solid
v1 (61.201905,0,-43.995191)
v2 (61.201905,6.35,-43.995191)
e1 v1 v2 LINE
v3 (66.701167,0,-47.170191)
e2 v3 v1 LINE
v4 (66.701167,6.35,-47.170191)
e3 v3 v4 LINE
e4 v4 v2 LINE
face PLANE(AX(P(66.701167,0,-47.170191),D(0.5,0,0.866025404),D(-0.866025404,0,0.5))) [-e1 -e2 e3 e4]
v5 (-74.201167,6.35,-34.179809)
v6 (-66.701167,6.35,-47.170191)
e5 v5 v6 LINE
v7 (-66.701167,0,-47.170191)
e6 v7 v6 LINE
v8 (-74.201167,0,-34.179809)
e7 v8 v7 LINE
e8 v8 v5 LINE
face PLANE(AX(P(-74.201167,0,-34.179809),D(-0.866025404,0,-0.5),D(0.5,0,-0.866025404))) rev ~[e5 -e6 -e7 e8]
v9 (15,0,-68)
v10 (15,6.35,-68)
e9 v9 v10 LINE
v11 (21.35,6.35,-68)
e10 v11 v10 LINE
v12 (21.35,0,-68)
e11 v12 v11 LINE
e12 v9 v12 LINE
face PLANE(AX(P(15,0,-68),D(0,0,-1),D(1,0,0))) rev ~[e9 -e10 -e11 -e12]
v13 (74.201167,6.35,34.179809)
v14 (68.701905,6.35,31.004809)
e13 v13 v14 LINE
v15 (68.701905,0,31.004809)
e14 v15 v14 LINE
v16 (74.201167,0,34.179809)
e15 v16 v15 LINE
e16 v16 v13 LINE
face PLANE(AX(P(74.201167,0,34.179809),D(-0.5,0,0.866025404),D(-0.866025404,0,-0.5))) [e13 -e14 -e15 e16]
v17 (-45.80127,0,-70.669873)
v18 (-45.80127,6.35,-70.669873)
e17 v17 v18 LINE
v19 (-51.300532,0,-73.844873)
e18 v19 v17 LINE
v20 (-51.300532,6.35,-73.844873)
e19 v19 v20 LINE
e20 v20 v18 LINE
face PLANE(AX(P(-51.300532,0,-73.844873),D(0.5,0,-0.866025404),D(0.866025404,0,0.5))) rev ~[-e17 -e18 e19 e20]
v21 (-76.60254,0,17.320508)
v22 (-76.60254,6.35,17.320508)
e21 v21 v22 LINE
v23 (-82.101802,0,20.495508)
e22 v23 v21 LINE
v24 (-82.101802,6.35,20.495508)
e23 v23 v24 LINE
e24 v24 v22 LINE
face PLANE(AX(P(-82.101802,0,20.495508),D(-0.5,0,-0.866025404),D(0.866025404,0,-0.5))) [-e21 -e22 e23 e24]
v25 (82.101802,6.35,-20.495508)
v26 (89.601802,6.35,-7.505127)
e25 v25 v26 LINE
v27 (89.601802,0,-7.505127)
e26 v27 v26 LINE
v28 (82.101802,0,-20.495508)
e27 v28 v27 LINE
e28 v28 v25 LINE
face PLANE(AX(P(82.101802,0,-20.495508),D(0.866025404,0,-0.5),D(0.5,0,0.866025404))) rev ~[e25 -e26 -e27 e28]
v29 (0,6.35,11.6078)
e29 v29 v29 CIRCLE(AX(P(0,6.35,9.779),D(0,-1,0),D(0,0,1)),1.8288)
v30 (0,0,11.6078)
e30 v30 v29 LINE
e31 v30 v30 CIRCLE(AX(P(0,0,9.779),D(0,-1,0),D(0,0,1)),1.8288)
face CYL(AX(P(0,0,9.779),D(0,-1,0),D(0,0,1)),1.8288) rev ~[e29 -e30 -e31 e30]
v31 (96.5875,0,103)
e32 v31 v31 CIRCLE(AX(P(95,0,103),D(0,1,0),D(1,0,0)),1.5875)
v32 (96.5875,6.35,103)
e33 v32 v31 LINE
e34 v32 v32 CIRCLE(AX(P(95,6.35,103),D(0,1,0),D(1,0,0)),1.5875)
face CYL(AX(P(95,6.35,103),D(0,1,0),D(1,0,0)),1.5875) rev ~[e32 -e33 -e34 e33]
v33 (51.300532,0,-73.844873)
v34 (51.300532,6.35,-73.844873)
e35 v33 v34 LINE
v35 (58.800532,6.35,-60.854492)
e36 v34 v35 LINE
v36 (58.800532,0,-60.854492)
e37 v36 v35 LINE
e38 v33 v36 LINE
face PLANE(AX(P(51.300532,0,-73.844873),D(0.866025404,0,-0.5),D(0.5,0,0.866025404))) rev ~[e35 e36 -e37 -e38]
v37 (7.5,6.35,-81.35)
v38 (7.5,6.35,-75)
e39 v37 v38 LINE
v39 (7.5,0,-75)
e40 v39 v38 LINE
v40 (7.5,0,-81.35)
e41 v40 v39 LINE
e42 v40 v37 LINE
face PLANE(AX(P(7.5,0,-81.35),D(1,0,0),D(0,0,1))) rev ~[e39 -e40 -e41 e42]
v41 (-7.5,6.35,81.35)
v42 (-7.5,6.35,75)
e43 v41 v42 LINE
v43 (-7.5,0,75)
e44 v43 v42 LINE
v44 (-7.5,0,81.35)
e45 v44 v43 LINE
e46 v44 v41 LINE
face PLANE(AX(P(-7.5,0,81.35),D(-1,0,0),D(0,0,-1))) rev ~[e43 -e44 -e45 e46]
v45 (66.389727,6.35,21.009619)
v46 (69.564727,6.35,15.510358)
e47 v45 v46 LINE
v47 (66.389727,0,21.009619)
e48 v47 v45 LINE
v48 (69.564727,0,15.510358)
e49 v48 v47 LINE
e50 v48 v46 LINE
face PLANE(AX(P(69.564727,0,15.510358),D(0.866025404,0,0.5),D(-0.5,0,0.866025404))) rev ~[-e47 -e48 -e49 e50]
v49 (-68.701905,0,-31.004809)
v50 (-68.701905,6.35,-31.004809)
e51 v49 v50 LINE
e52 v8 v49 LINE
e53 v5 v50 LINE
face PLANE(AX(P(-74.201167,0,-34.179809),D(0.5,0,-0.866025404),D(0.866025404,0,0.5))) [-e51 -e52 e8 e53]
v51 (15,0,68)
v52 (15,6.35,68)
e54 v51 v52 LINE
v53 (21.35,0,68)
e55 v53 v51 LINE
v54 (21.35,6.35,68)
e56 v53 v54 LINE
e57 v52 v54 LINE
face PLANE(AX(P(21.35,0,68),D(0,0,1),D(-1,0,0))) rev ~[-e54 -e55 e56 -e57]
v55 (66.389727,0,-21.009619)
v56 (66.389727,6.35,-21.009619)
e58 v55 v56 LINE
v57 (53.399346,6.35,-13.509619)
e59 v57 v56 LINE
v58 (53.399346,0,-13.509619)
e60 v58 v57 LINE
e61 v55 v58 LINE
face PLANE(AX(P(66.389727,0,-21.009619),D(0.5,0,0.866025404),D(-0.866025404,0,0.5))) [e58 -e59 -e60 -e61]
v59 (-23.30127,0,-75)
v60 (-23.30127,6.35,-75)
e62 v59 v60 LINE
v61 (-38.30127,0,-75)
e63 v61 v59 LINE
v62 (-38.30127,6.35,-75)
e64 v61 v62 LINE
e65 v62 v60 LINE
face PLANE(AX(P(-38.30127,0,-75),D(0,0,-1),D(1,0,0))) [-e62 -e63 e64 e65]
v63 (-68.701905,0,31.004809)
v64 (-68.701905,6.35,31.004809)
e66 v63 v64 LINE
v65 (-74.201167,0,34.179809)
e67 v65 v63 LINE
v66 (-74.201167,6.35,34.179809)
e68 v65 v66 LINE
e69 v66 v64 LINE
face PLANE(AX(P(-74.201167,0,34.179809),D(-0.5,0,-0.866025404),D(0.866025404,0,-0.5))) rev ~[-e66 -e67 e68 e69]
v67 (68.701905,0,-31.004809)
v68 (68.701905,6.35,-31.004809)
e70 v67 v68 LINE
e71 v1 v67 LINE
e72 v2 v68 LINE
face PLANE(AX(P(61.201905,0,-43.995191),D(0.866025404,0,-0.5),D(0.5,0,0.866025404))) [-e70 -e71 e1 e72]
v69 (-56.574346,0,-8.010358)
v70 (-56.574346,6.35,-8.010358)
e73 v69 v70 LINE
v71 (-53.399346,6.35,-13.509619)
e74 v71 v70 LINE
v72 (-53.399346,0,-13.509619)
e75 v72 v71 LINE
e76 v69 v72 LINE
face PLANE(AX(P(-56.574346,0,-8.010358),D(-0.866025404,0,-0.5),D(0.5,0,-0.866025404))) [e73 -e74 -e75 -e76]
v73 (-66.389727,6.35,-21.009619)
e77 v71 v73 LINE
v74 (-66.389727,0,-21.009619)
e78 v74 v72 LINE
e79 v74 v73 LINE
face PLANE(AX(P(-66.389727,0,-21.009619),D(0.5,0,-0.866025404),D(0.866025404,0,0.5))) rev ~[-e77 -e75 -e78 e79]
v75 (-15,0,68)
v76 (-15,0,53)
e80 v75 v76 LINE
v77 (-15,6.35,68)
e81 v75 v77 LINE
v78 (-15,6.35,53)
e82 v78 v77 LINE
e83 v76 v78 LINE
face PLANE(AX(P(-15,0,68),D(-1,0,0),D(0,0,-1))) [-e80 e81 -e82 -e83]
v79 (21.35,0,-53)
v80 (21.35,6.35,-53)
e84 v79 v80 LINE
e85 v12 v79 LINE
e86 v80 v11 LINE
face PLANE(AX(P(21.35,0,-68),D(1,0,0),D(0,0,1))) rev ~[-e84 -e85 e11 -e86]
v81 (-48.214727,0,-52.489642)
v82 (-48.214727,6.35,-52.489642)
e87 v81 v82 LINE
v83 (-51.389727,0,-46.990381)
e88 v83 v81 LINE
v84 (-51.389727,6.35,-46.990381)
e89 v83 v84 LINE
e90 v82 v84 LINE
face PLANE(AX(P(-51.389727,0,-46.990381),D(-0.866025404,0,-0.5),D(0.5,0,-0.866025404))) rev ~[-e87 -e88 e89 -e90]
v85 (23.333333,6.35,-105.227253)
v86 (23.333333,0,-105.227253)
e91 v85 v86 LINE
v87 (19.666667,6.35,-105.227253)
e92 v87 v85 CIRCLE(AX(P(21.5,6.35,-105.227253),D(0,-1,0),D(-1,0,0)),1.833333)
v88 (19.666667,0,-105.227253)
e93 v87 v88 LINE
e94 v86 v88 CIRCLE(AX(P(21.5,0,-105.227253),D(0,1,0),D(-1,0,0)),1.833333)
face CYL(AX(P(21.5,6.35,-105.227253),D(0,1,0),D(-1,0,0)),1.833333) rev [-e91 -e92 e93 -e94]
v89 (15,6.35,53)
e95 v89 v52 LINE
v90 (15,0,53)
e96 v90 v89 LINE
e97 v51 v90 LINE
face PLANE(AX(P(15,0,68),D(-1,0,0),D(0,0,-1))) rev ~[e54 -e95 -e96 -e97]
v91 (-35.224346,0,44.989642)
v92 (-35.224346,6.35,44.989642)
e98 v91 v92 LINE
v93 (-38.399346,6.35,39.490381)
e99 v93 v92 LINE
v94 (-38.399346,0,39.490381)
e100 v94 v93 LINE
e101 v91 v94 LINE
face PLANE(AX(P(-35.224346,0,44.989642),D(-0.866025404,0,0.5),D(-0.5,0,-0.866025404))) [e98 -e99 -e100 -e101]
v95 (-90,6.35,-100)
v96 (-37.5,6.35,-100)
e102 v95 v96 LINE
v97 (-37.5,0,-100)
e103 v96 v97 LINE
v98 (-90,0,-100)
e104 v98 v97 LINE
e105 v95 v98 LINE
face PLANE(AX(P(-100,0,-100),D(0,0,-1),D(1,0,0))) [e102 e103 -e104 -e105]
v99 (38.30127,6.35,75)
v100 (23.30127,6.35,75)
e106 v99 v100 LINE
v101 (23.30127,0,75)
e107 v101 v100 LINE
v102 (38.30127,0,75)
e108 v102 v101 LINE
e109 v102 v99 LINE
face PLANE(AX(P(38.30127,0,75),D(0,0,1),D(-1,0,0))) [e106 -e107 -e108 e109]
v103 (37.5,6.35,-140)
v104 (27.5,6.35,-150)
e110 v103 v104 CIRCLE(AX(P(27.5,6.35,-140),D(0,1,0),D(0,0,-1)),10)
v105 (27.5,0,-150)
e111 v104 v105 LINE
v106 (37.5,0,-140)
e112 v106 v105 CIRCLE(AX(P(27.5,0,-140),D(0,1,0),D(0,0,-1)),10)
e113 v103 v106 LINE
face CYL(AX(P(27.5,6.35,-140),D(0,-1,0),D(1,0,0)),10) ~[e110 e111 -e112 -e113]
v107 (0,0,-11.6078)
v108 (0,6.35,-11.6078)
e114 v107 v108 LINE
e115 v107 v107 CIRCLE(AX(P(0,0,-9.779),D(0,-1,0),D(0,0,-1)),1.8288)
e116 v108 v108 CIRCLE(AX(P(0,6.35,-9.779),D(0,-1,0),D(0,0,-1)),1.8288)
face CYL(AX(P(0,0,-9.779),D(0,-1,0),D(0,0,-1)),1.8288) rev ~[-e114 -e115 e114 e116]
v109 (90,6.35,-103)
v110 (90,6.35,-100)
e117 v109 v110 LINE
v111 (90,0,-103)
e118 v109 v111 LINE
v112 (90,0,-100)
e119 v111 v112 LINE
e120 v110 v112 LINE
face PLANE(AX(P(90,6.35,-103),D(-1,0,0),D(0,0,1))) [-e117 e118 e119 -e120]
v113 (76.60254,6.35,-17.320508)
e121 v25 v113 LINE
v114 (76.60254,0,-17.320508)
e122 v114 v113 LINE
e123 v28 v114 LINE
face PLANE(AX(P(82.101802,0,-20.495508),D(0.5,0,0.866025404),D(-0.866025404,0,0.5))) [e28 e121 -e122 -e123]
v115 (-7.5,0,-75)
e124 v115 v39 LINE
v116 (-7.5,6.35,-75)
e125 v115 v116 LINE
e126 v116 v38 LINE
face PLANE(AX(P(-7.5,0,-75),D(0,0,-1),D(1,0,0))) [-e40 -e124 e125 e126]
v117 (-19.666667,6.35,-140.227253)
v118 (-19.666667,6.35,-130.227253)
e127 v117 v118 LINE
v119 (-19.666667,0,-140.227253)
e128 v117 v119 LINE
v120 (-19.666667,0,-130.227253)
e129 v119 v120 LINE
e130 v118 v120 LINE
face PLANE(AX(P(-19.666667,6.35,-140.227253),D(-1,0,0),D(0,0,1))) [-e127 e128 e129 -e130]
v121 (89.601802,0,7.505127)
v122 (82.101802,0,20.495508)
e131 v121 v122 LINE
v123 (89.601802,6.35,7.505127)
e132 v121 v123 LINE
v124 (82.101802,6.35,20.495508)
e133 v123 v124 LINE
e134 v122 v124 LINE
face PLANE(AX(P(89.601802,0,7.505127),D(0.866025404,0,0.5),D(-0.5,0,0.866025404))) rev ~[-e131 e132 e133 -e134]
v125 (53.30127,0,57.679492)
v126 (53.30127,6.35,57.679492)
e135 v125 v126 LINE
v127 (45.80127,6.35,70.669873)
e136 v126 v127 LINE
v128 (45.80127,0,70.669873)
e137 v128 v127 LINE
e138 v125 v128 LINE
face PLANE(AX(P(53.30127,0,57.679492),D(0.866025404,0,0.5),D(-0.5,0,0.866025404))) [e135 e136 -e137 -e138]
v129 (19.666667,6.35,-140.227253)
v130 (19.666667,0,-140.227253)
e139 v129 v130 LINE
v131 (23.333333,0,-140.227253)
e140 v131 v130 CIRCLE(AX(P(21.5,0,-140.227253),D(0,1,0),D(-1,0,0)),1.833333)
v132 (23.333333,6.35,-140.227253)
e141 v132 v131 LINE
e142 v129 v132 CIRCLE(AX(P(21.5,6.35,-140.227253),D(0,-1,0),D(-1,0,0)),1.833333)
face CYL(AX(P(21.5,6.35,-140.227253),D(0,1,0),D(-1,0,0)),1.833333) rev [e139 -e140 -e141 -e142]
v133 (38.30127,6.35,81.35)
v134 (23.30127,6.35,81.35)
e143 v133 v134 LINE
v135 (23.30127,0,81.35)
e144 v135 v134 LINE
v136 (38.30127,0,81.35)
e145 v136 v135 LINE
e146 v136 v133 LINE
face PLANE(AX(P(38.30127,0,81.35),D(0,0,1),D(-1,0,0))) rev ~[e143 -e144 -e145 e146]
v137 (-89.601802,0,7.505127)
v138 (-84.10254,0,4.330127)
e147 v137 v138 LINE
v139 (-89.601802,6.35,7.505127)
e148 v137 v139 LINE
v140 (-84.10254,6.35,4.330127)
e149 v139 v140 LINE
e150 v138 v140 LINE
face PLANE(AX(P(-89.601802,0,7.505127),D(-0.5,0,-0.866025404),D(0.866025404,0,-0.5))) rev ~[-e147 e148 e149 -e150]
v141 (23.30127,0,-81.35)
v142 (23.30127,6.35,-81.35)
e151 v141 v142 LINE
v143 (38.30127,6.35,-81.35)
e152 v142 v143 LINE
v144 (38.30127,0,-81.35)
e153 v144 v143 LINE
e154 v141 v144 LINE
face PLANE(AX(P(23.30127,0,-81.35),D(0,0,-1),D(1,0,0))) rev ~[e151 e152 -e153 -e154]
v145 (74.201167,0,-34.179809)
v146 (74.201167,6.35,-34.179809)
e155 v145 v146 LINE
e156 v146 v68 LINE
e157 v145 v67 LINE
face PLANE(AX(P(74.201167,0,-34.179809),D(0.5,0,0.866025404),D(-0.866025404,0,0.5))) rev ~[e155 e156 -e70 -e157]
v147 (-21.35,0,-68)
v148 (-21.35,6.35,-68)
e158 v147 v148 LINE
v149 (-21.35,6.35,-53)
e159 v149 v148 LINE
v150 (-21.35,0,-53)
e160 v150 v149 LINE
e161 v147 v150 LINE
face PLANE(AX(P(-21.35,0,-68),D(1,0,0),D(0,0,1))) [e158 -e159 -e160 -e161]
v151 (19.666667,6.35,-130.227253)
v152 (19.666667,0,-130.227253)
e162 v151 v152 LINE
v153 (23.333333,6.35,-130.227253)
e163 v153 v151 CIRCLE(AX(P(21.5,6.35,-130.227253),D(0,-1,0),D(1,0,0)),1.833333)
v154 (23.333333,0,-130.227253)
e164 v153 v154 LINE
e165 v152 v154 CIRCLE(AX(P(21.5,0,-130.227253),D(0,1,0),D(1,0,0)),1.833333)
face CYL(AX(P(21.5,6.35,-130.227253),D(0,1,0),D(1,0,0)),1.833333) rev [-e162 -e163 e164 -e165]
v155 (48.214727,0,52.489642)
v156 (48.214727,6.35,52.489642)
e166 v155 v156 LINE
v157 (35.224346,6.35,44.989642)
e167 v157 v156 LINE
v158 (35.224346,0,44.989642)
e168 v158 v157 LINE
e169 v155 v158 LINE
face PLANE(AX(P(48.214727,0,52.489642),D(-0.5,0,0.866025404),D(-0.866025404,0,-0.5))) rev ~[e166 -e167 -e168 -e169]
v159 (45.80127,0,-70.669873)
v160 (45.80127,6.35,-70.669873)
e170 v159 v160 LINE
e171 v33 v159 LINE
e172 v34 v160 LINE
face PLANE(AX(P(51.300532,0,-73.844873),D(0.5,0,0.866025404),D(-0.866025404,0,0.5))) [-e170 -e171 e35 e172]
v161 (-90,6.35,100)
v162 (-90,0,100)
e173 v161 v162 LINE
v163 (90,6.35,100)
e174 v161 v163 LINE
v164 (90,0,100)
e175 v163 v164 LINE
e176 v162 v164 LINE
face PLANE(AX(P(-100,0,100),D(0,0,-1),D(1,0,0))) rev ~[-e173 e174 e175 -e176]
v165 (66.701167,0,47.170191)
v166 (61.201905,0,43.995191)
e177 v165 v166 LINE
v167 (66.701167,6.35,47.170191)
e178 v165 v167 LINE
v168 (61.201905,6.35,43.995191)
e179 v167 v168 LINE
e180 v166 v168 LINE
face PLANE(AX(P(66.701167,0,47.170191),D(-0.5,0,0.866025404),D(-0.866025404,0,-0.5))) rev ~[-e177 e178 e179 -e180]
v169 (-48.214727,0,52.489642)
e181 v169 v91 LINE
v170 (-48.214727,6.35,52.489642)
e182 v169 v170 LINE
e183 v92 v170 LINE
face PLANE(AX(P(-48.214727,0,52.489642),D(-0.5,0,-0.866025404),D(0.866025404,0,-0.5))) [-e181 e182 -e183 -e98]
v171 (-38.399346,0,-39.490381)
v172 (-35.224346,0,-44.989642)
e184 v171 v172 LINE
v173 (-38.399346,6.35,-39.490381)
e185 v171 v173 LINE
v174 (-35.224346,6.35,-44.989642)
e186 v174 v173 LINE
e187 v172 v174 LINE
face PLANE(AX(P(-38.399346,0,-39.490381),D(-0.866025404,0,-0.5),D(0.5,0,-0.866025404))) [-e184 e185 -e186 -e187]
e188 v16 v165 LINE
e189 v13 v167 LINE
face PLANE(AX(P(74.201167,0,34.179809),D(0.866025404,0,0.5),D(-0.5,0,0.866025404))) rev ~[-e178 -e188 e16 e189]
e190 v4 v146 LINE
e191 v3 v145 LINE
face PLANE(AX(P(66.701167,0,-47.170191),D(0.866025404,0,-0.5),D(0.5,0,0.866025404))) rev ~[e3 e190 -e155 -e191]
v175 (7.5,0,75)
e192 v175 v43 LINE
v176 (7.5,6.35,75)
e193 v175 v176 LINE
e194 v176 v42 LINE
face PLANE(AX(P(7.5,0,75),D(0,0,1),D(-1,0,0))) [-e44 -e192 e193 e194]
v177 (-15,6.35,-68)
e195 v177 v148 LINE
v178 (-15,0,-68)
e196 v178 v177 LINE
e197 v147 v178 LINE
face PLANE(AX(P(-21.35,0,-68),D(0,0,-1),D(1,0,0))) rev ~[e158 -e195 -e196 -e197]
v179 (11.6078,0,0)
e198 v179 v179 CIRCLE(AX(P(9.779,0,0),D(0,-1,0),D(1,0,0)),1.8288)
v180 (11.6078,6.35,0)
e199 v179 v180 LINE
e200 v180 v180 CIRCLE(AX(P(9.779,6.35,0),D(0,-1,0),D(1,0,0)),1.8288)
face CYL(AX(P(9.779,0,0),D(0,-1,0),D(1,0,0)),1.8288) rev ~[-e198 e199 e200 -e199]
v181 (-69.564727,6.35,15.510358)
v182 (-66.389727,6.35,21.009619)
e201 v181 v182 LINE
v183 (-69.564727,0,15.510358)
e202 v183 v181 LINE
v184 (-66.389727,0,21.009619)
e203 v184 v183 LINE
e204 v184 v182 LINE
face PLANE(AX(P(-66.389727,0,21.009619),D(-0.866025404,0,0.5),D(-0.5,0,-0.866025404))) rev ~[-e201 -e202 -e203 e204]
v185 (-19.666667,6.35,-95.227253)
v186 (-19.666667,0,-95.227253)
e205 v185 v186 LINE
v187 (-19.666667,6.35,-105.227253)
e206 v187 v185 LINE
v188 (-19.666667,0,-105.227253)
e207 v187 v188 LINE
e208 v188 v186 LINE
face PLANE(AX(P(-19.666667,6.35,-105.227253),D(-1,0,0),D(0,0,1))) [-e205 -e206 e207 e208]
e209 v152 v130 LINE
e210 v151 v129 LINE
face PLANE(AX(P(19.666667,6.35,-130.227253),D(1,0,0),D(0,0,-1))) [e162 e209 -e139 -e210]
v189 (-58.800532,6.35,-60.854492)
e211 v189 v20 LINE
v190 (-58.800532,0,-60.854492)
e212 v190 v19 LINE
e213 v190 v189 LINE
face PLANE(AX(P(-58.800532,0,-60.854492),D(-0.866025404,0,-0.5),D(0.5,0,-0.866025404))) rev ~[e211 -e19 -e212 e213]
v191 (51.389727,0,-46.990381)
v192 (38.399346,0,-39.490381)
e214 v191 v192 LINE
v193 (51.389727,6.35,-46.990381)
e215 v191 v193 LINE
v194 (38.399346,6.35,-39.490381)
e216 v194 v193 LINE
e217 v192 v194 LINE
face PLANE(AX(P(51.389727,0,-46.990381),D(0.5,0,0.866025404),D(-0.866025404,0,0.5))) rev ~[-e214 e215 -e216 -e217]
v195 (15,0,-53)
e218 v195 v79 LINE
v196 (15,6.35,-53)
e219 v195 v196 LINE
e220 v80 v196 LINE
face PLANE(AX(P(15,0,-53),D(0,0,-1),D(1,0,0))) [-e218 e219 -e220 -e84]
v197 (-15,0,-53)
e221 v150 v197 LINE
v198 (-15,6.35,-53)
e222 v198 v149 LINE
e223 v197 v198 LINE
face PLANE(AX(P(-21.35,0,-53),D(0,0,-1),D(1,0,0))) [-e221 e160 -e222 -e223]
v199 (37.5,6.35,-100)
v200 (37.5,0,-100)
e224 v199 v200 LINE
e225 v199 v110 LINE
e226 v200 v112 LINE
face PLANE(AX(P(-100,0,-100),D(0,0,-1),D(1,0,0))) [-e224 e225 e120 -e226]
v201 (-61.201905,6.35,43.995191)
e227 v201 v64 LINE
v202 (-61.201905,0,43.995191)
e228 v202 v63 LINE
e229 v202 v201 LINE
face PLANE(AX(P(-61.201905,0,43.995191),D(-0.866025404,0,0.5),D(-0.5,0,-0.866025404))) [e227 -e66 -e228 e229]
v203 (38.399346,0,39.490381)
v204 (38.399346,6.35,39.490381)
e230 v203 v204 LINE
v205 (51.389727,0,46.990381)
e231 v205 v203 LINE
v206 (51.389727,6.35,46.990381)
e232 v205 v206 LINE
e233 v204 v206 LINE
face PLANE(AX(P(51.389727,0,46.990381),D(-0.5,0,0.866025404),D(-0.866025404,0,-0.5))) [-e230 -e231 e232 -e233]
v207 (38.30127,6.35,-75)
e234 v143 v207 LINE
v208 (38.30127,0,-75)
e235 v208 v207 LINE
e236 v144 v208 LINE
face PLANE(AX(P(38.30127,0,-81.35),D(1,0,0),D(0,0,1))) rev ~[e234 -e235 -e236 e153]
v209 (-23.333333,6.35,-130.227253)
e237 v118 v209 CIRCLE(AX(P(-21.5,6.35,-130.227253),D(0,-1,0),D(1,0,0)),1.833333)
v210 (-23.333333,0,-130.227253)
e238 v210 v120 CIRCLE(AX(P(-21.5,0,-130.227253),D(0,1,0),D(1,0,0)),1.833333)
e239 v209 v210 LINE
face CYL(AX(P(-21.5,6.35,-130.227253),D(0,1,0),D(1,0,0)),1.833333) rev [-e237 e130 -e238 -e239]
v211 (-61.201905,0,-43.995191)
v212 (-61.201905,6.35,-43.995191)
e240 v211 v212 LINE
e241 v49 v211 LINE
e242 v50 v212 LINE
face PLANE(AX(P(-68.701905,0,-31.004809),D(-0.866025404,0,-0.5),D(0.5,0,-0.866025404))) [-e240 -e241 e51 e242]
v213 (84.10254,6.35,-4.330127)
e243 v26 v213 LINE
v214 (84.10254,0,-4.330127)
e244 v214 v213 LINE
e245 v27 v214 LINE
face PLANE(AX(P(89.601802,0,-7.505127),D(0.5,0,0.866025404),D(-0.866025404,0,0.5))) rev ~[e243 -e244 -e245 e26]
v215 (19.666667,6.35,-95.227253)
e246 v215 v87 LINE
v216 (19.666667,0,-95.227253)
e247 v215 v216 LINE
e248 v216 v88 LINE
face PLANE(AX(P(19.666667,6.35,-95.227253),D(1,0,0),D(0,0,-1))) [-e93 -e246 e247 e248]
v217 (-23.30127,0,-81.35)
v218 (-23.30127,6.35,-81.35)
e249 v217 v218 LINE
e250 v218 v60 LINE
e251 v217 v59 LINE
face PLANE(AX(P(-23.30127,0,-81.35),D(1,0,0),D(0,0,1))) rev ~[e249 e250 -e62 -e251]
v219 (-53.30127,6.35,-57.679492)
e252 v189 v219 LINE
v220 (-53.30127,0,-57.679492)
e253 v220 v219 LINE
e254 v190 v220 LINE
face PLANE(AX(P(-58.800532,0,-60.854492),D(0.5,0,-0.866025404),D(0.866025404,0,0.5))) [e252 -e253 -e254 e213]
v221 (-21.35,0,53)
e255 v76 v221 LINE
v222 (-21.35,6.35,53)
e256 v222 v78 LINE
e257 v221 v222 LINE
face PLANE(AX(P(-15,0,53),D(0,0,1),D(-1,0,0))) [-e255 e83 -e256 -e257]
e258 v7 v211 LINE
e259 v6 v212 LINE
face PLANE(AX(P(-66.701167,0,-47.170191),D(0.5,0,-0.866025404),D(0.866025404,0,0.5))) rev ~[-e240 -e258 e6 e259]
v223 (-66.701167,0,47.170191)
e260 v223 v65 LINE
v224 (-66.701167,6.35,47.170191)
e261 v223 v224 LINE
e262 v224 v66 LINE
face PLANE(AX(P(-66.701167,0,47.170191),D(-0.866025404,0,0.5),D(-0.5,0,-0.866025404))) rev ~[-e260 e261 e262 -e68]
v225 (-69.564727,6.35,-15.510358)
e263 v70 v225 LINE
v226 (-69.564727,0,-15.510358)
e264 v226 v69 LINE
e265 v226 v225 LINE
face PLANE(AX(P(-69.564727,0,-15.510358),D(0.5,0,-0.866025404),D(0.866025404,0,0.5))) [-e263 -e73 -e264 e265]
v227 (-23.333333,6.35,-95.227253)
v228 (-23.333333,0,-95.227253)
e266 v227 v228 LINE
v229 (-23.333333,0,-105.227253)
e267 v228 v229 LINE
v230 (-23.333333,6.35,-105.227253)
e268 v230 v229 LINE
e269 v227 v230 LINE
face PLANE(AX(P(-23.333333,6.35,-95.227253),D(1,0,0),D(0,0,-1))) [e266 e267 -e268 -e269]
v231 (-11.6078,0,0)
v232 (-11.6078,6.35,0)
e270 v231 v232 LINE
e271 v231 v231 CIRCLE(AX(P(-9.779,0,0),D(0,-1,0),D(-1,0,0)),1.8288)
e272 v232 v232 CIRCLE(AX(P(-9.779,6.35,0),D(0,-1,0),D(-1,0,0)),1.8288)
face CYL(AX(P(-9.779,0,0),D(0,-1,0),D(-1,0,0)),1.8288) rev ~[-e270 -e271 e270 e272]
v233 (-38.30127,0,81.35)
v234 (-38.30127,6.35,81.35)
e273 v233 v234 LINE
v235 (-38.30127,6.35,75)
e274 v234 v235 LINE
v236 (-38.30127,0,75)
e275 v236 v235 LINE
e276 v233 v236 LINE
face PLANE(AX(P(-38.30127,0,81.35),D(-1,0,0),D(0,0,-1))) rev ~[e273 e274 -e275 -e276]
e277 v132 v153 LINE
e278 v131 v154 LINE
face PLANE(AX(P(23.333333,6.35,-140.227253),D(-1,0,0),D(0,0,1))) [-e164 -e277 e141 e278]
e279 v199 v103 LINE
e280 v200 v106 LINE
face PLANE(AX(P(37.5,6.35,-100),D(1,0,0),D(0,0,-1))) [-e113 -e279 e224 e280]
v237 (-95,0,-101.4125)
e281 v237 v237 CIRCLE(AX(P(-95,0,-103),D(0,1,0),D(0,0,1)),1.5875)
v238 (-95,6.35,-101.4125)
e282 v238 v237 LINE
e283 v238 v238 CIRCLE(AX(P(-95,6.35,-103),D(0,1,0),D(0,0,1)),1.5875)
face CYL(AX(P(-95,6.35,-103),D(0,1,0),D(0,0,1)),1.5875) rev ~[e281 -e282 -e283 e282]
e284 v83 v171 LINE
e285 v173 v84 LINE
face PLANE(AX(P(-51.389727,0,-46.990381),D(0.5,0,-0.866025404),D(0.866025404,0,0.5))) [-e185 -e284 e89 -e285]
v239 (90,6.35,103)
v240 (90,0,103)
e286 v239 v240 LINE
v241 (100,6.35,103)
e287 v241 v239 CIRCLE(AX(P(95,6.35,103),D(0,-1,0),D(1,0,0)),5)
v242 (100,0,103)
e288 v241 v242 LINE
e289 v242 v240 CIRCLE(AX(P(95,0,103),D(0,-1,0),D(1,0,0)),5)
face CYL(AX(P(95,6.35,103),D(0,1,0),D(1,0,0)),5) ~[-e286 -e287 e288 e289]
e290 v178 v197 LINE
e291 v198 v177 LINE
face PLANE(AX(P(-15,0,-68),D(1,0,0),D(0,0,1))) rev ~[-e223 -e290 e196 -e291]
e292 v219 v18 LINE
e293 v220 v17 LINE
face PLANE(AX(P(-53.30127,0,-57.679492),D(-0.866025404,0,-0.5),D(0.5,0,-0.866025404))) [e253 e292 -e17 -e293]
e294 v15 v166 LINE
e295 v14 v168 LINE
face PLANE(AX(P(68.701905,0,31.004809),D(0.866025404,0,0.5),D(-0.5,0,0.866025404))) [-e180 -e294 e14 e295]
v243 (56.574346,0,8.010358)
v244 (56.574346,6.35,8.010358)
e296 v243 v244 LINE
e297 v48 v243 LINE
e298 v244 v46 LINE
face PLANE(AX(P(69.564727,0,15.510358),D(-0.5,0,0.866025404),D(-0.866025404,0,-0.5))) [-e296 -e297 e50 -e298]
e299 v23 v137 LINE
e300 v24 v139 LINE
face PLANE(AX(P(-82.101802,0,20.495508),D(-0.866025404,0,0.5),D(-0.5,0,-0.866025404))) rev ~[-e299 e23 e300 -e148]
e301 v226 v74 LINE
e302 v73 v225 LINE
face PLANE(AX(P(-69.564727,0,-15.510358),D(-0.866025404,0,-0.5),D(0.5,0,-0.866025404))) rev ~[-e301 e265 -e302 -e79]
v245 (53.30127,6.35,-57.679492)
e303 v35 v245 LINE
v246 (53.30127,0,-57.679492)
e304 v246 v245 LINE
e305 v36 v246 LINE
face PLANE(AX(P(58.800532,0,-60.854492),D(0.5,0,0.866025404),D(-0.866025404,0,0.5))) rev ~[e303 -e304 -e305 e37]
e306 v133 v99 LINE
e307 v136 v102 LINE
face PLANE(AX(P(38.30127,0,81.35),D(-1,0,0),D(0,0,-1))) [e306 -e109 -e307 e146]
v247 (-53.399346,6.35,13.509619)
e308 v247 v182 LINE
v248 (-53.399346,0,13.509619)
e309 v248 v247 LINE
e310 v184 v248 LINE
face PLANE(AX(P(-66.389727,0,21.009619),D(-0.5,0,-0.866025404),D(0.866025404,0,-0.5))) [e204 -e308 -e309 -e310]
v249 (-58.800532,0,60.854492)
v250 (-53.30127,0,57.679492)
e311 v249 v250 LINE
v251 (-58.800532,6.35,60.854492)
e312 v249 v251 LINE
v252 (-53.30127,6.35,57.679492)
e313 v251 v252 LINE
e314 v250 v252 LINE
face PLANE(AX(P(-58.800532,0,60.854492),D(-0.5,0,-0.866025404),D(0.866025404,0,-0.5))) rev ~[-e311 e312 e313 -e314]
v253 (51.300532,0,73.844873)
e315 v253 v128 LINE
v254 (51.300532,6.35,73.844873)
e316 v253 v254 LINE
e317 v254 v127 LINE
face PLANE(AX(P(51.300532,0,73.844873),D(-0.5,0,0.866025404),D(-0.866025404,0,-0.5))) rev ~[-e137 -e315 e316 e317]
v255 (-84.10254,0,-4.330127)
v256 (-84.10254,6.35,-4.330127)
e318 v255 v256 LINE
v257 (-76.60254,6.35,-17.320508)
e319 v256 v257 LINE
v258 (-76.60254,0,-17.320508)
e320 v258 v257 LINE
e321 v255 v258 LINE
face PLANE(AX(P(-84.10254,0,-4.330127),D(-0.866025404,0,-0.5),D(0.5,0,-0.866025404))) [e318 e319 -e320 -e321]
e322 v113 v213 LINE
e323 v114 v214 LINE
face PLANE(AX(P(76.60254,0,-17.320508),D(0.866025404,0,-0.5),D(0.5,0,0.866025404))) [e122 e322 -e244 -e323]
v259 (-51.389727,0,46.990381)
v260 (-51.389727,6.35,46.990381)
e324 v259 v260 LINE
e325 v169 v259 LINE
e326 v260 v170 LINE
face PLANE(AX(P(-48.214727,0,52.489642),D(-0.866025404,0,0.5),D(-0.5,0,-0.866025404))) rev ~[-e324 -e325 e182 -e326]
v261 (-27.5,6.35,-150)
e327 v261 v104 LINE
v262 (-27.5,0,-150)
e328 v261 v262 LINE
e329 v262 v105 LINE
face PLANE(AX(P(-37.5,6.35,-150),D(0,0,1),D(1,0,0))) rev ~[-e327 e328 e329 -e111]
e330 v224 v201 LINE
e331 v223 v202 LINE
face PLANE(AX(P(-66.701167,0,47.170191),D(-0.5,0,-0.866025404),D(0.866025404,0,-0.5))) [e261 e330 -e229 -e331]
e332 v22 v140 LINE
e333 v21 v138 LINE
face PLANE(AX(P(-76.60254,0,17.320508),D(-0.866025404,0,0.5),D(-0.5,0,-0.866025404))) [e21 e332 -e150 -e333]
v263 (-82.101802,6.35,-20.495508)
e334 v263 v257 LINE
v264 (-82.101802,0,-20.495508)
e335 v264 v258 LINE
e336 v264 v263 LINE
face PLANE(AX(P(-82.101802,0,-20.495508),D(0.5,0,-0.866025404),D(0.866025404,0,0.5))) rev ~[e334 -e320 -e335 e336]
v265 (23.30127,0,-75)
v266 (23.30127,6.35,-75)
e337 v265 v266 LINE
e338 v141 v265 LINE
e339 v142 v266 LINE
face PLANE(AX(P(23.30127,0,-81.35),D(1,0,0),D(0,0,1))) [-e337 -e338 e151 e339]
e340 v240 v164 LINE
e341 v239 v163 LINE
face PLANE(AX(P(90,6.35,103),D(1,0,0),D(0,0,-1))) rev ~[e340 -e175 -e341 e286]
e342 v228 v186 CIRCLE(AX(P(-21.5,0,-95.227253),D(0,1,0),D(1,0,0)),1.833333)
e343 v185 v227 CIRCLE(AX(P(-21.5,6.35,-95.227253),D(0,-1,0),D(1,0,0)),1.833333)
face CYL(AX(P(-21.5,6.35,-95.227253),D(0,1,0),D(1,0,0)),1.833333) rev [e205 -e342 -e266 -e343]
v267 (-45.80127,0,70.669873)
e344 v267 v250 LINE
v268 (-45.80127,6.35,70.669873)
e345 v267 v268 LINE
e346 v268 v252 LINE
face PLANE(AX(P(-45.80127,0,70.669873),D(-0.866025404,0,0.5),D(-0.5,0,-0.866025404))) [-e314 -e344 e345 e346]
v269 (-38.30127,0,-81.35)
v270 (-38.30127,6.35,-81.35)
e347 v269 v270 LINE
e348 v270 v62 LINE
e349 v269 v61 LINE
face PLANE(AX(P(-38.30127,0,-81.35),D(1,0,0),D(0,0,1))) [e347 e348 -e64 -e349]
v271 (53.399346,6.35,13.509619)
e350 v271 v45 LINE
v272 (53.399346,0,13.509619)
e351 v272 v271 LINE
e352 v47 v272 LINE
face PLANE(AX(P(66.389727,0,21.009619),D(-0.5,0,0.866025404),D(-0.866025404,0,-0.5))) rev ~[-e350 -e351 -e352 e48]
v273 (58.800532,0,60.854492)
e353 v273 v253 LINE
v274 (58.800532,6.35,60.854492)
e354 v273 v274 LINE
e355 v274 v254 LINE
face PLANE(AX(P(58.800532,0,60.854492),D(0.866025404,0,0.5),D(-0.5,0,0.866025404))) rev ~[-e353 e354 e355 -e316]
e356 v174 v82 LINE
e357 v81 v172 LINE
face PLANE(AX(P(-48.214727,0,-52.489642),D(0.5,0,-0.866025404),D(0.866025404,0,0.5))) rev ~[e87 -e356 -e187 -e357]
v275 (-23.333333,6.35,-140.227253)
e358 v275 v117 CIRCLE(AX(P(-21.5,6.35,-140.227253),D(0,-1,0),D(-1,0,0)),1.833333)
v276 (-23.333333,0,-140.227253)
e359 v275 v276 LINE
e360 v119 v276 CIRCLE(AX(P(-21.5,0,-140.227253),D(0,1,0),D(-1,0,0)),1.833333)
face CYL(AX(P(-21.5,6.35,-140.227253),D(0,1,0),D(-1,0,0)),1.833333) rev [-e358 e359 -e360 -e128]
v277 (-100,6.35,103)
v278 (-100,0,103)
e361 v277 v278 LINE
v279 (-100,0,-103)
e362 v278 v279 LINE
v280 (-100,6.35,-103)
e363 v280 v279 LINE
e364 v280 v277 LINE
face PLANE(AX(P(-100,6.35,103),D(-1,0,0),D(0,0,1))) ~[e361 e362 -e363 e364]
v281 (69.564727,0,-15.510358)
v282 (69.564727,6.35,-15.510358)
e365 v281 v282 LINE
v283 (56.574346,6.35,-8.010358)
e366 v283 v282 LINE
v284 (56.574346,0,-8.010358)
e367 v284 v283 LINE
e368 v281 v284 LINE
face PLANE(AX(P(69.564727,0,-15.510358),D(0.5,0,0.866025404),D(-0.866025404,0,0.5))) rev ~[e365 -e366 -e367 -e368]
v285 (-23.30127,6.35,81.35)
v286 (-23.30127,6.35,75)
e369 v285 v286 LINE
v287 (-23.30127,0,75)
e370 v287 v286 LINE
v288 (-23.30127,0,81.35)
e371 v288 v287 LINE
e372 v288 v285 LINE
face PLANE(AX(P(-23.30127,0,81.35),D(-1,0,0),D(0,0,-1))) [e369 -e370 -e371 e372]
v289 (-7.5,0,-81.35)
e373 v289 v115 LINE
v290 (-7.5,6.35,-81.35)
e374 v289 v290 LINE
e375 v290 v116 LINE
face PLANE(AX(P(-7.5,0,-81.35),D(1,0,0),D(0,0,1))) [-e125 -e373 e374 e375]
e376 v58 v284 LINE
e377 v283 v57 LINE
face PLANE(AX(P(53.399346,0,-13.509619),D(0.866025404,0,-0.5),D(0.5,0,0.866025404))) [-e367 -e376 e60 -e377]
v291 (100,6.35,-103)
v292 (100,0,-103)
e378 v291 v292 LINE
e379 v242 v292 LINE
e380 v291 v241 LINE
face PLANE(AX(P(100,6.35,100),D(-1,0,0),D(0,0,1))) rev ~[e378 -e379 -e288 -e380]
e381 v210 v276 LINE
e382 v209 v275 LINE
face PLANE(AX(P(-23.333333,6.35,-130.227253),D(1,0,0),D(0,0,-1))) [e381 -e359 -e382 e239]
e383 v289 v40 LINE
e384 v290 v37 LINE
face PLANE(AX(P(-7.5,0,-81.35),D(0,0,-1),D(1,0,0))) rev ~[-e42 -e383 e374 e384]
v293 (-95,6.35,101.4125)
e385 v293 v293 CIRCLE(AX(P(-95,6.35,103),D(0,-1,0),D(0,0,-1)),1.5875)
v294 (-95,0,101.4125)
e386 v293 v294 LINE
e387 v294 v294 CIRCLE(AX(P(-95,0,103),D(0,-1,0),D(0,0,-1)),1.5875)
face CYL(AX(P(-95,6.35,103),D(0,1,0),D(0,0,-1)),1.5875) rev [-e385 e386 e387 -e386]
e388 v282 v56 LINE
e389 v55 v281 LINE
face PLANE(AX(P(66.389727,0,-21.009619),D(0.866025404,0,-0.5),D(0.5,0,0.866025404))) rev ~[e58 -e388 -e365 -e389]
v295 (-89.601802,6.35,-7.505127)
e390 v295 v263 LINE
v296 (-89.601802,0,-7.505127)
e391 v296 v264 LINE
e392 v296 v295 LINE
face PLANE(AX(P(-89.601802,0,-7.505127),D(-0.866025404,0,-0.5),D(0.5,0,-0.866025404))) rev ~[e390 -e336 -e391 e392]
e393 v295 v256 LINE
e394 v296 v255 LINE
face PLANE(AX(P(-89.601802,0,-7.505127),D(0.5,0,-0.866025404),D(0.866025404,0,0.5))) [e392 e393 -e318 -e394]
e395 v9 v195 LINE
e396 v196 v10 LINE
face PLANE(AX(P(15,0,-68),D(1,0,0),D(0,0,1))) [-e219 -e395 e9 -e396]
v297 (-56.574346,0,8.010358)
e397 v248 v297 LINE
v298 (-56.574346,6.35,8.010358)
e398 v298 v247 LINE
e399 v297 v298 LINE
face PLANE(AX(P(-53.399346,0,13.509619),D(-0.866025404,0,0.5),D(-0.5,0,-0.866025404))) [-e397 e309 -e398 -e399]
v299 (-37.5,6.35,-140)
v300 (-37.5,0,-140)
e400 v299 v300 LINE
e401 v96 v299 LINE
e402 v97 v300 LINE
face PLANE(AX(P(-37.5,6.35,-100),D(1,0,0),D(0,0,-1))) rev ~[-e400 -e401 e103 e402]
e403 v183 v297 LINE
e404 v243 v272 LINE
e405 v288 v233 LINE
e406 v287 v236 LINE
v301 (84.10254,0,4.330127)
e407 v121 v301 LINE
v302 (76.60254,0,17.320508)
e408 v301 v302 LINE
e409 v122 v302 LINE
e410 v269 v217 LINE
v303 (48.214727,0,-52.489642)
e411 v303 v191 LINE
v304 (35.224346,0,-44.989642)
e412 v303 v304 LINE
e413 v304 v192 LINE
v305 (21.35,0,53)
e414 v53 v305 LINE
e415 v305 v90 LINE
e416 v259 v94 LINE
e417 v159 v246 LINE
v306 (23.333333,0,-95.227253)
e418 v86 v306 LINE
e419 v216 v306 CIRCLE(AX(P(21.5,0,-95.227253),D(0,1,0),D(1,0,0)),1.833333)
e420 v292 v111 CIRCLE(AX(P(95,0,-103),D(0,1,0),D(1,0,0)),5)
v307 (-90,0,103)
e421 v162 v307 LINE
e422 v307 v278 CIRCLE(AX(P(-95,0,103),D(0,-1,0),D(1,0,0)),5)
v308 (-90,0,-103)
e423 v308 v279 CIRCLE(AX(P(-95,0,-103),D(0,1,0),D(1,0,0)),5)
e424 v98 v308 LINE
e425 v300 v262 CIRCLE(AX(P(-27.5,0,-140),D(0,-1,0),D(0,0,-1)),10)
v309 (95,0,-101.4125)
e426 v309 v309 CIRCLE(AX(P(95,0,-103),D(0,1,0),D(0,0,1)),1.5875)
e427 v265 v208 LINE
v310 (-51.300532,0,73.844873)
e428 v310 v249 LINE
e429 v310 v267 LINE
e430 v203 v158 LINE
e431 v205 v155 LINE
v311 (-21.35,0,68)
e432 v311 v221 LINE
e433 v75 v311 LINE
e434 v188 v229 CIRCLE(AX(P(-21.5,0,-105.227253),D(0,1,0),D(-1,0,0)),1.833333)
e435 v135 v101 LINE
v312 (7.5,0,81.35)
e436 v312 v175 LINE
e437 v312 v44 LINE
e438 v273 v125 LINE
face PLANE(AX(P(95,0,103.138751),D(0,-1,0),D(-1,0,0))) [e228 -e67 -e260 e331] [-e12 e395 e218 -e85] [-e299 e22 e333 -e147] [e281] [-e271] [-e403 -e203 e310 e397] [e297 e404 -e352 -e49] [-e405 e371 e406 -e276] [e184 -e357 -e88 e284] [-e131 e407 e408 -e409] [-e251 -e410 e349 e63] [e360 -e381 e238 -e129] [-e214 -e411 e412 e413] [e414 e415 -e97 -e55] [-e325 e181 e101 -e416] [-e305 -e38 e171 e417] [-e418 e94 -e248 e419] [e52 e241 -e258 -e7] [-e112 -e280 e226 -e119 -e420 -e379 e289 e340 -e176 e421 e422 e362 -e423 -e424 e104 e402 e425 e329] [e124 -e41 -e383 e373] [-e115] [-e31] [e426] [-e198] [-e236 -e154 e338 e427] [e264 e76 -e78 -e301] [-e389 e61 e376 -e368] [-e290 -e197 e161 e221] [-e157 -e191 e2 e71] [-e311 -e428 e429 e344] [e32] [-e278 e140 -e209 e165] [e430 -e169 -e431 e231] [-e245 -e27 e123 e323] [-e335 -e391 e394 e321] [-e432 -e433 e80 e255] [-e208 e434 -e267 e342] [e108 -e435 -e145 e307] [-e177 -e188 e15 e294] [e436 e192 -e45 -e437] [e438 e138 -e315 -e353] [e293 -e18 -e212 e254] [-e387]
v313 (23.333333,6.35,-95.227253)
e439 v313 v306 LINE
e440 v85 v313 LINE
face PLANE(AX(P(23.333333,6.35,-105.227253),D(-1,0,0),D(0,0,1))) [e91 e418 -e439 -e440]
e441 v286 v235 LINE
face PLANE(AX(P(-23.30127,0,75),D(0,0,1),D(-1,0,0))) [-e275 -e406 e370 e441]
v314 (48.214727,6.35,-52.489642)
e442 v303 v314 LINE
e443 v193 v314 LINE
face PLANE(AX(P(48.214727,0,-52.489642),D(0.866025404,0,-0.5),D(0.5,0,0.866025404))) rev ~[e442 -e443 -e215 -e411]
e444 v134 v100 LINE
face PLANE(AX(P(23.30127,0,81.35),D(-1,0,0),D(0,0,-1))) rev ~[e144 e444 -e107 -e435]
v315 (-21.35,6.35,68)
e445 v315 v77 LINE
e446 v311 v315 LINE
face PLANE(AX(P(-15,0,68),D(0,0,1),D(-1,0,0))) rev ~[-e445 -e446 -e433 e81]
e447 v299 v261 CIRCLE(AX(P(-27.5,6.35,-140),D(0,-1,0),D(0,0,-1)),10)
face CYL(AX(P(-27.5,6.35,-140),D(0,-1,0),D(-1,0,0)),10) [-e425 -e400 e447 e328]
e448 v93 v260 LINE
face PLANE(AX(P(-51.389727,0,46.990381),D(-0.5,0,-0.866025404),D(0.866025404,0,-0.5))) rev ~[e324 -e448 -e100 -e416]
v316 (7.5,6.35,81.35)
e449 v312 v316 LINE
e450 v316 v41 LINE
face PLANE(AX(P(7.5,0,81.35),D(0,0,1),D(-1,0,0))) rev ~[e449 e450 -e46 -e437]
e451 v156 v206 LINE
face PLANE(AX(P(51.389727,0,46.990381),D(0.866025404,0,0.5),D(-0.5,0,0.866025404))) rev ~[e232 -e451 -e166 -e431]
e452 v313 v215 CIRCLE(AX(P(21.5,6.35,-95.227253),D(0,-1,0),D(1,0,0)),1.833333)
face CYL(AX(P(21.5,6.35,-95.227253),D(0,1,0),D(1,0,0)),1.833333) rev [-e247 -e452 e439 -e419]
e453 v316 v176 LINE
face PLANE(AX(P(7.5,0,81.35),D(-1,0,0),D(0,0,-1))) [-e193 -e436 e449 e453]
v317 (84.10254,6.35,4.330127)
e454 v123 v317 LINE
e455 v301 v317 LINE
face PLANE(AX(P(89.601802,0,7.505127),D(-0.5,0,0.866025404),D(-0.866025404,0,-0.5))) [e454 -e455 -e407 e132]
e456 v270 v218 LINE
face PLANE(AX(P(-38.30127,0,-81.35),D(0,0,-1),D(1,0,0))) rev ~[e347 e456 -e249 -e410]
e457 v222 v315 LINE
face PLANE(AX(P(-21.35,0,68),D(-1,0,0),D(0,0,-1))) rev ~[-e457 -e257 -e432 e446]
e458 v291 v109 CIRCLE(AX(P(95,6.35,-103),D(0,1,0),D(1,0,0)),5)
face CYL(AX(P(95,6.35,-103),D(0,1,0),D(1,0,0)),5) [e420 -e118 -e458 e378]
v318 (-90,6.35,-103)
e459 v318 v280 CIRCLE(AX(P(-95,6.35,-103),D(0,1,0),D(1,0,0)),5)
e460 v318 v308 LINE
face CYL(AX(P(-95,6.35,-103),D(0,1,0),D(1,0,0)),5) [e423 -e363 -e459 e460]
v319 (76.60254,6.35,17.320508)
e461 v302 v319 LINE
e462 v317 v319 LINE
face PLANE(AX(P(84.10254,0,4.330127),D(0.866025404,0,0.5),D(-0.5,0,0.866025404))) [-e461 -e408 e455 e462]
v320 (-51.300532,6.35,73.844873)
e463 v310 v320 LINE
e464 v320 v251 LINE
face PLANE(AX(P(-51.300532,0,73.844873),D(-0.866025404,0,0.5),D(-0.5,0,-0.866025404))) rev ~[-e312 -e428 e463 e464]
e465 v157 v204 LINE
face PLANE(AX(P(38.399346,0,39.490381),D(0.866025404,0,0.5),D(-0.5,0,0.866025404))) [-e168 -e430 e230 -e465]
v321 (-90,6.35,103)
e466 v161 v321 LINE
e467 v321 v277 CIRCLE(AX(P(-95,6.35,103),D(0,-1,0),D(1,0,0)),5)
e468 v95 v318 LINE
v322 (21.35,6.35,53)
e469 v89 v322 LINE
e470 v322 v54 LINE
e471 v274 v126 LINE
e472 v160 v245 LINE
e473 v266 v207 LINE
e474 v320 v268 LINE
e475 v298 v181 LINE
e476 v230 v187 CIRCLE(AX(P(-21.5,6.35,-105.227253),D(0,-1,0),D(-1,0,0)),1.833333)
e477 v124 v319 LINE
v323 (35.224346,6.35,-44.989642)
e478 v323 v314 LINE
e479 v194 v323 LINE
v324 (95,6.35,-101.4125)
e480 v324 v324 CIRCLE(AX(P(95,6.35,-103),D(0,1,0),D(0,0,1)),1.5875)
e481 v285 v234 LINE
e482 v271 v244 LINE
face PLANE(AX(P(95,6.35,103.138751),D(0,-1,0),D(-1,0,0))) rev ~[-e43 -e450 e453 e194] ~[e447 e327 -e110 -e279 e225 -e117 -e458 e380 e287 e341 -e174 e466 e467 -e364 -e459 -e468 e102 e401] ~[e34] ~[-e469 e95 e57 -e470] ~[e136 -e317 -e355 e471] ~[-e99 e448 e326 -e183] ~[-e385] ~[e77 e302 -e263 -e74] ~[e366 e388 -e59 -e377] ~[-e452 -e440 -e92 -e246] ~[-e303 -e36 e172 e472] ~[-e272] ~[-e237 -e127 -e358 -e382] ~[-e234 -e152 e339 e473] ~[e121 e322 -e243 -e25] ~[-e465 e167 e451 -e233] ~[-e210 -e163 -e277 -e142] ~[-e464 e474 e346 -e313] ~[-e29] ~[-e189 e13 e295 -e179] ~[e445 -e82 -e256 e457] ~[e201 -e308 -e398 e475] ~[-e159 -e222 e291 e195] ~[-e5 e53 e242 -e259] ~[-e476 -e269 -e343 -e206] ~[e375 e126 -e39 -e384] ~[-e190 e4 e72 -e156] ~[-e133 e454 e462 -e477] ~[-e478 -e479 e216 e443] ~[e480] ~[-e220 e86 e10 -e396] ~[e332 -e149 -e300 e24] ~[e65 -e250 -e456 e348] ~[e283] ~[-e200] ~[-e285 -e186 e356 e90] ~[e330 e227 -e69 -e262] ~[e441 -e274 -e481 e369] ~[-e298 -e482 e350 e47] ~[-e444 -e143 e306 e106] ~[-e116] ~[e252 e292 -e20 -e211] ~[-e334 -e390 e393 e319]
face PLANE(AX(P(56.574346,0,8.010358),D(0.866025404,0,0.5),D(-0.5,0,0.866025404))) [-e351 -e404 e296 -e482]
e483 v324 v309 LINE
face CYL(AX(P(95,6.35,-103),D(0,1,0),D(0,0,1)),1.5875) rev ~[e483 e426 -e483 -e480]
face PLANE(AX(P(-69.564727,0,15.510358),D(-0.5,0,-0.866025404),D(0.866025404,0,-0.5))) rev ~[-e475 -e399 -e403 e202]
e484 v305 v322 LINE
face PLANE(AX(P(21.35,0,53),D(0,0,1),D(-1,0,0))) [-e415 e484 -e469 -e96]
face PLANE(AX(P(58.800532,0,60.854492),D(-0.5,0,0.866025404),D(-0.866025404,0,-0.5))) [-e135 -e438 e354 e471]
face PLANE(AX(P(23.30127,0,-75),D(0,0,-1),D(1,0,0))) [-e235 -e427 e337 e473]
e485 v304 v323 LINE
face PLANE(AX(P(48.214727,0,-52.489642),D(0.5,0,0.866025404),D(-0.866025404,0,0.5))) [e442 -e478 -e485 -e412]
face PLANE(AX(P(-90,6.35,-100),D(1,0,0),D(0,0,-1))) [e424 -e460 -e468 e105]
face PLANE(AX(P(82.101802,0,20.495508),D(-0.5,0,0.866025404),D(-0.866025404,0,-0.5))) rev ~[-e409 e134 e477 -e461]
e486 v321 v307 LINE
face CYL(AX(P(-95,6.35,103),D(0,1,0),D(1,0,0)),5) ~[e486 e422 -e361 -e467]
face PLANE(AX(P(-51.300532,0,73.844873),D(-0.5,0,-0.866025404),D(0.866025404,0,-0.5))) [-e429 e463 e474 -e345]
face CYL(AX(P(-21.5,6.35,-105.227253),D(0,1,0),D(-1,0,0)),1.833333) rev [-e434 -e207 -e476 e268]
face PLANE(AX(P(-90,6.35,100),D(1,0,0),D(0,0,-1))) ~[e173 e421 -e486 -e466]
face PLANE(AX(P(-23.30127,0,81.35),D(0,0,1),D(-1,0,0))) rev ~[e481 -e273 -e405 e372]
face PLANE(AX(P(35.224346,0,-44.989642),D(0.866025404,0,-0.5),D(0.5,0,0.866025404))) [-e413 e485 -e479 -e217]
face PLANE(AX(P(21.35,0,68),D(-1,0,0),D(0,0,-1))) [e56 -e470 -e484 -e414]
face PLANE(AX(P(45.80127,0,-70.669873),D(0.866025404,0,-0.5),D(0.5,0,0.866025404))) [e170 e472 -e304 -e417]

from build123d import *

# Parameters (mm, degrees)
ESQUISSE1_W                     = 200
ESQUISSE1_H                     = 200
BOSS_EXTRU_1_DEPTH              = 6.35
BOSS_EXTRU_2_DEPTH              = 6.35
ENL_V_MAT_EXTRU_1_REACH         = 149.324
ESQUISSE3_R                     = 1.5875
R_P_TITION_LIN_AIRE1_COUNT      = 2
R_P_TITION_LIN_AIRE1_PITCH      = 190
SYM_TRIE1_COPY_1_DEPTH          = 6.35
SYM_TRIE1_COPY_2_REACH          = 149.324
SYM_TRIE1_COPY_2_SKETCH_R       = 1.5875
ESQUISSE4_W                     = 75
ESQUISSE4_H                     = 50
BOSS_EXTRU_3_DEPTH              = 6.35
CONG_1_R                        = 10
SKETCH1_R                       = 1.8288
CUT_EXTRUDE1_DEPTH              = 6.35
CIRPATTERN1_COUNT               = 4
ESQUISSE7_W                     = 15
ESQUISSE7_H                     = 6.35
ENL_V_MAT_EXTRU_2_DEPTH         = 6.35
R_P_TITION_CIRCULAIRE1_COUNT    = 6
ENL_V_MAT_EXTRU_3_REACH         = 182.389
R_P_TITION_LIN_AIRE2_COUNT      = 2
R_P_TITION_LIN_AIRE2_PITCH      = 35
R_P_TITION_LIN_AIRE2_COUNT_DIR2 = 2
R_P_TITION_LIN_AIRE2_PITCH_DIR2 = 43
ENL_V_MAT_EXTRU_4_REACH         = 182.389
ESQUISSE9_W                     = 6.35
ESQUISSE9_H                     = 15
R_P_TITION_CIRCULAIRE2_COUNT    = 6


with BuildPart() as part:
    # Esquisse1 → Boss.-Extru.1 (new body)
    with BuildSketch(Plane(origin=(0, 0, 0), x_dir=(1, 0, 0), z_dir=(0, 1, 0))):
        Rectangle(ESQUISSE1_W, ESQUISSE1_H)
    extrude(amount=BOSS_EXTRU_1_DEPTH)

    # Esquisse2 → Boss.-Extru.2 (add)
    with BuildSketch(Plane(origin=(0, 6.35, 0), x_dir=(1, 0, 0), z_dir=(0, 1, 0))):
        with BuildLine():
            Line((-100, 100), (-90, 100))
            Line((-90, 100), (-90, 103))
            ThreePointArc((-90, 103), (-95, 108), (-100, 103))
            Line((-100, 103), (-100, 100))
        make_face()
    boss_extru_2 = extrude(amount=-BOSS_EXTRU_2_DEPTH)

    # Esquisse3 → Enlèv. mat.-Extru.1 (cut, up to next)
    with BuildSketch(Plane(origin=(0, 6.35, 0), x_dir=(1, 0, 0), z_dir=(0, 1, 0)), mode=Mode.PRIVATE) as enl_v_mat_extru_1_sk1:
        with Locations(Location((-95, 103, 0), (0, 0, 270))):
            Circle(ESQUISSE3_R)
    enl_v_mat_extru_1_tool1 = extrude(enl_v_mat_extru_1_sk1.sketch, amount=-ENL_V_MAT_EXTRU_1_REACH, mode=Mode.PRIVATE) & part.part
    enl_v_mat_extru_1 = enl_v_mat_extru_1_tool1.solids().sort_by_distance((-95, 6.35, -103))[0]
    add(enl_v_mat_extru_1, mode=Mode.SUBTRACT)

    # Répétition linéaire1: Boss.-Extru.2, Enlèv. mat.-Extru.1 ×2
    with Locations(*[(i * R_P_TITION_LIN_AIRE1_PITCH, 0, 0) for i in range(1, R_P_TITION_LIN_AIRE1_COUNT)]):
        add(boss_extru_2)
        add(enl_v_mat_extru_1, mode=Mode.SUBTRACT)

    # Symétrie1: Boss.-Extru.2, Enlèv. mat.-Extru.1 across plane
    add(boss_extru_2.mirror(Plane.XY))
    add(enl_v_mat_extru_1.mirror(Plane.XY), mode=Mode.SUBTRACT)

    # Symétrie1 copy 1 sketch → Symétrie1 copy 1 (add)
    with BuildSketch(Plane(origin=(190, 6.35, 0), x_dir=(1, 0, 0), z_dir=(0, 1, 0))):
        with BuildLine():
            Line((-100, -100), (-90, -100))
            Line((-90, -100), (-90, -103))
            ThreePointArc((-90, -103), (-95, -108), (-100, -103))
            Line((-100, -103), (-100, -100))
        make_face()
    extrude(amount=-SYM_TRIE1_COPY_1_DEPTH)

    # Symétrie1 copy 2 sketch → Symétrie1 copy 2 (cut, up to next)
    with BuildSketch(Plane(origin=(190, 6.35, 0), x_dir=(1, 0, 0), z_dir=(0, 1, 0)), mode=Mode.PRIVATE) as sym_trie1_copy_2_sk1:
        with Locations((-95, -103)):
            Circle(SYM_TRIE1_COPY_2_SKETCH_R)
    sym_trie1_copy_2_tool1 = extrude(sym_trie1_copy_2_sk1.sketch, amount=-SYM_TRIE1_COPY_2_REACH, mode=Mode.PRIVATE) & part.part
    add(sym_trie1_copy_2_tool1.solids().sort_by_distance((95, 6.35, 103))[0], mode=Mode.SUBTRACT)

    # Esquisse4 → Boss.-Extru.3 (add)
    with BuildSketch(Plane(origin=(0, 6.35, 0), x_dir=(1, 0, 0), z_dir=(0, 1, 0))):
        with Locations((0, 125)):
            Rectangle(ESQUISSE4_W, ESQUISSE4_H)
    extrude(amount=-BOSS_EXTRU_3_DEPTH)

    # Congé1
    cong_1_edges = [part.edges().sort_by_distance(p)[0] for p in [
        (-37.5, 3.175, -150),
        (37.5, 3.175, -150),
    ]]
    fillet(cong_1_edges, radius=CONG_1_R)

    # Sketch1 → Cut-Extrude1 (cut)
    with BuildSketch(Plane.XZ):
        with Locations(Location((0, -9.779, 0), (0, 0, 270))):
            Circle(SKETCH1_R)
    cut_extrude1 = extrude(amount=-CUT_EXTRUDE1_DEPTH, mode=Mode.SUBTRACT)

    # CirPattern1: Cut-Extrude1 ×4 about axis
    cirpattern1_axis = Axis((0, 0, 0), (0, 1, 0))
    for i in range(1, CIRPATTERN1_COUNT):
        add(cut_extrude1.rotate(cirpattern1_axis, i * 360 / CIRPATTERN1_COUNT), mode=Mode.SUBTRACT)

    # Esquisse7 → Enlèv. mat.-Extru.2 (cut)
    with BuildSketch(Plane.XZ):
        with Locations((30.801270189, -78.175)):
            Rectangle(ESQUISSE7_W, ESQUISSE7_H)
        with Locations((0, -78.175)):
            Rectangle(ESQUISSE7_W, ESQUISSE7_H)
        with Locations((-30.801270189, -78.175)):
            Rectangle(ESQUISSE7_W, ESQUISSE7_H)
    enl_v_mat_extru_2 = extrude(amount=-ENL_V_MAT_EXTRU_2_DEPTH, mode=Mode.SUBTRACT)

    # Répétition circulaire1: Enlèv. mat.-Extru.2 ×6 about axis
    r_p_tition_circulaire1_axis = Axis((0, 0, 0), (0, 1, 0))
    for i in range(1, R_P_TITION_CIRCULAIRE1_COUNT):
        add(enl_v_mat_extru_2.rotate(r_p_tition_circulaire1_axis, i * 360 / R_P_TITION_CIRCULAIRE1_COUNT), mode=Mode.SUBTRACT)

    # Esquisse8 → Enlèv. mat.-Extru.3 (cut, up to next)
    with BuildSketch(Plane(origin=(0, 6.35, 0), x_dir=(1, 0, 0), z_dir=(0, 1, 0)), mode=Mode.PRIVATE) as enl_v_mat_extru_3_sk1:
        with BuildLine():
            Line((-19.666666667, 140.227252842), (-19.666666667, 130.227252842))
            ThreePointArc((-19.666666667, 130.227252842), (-21.5, 128.393919509), (-23.333333333, 130.227252842))
            Line((-23.333333333, 130.227252842), (-23.333333333, 140.227252842))
            ThreePointArc((-23.333333333, 140.227252842), (-21.5, 142.060586175), (-19.666666667, 140.227252842))
        make_face()
    enl_v_mat_extru_3_tool1 = extrude(enl_v_mat_extru_3_sk1.sketch, amount=-ENL_V_MAT_EXTRU_3_REACH, mode=Mode.PRIVATE) & part.part
    enl_v_mat_extru_3 = enl_v_mat_extru_3_tool1.solids().sort_by_distance((-21.5, 6.35, -135.227253))[0]
    add(enl_v_mat_extru_3, mode=Mode.SUBTRACT)

    # Répétition linéaire2: Enl_v. mat.-Extru.3 2 × 2
    with Locations(*[(j * R_P_TITION_LIN_AIRE2_PITCH_DIR2, 0, i * R_P_TITION_LIN_AIRE2_PITCH) for i in range(R_P_TITION_LIN_AIRE2_COUNT) for j in range(R_P_TITION_LIN_AIRE2_COUNT_DIR2) if (i, j) != (0, 0)]):
        add(enl_v_mat_extru_3, mode=Mode.SUBTRACT)

    # Esquisse9 → Enlèv. mat.-Extru.4 (cut, up to next)
    with BuildSketch(Plane.XZ, mode=Mode.PRIVATE) as enl_v_mat_extru_4_sk1:
        with Locations((-18.175, -60.5)):
            Rectangle(ESQUISSE9_W, ESQUISSE9_H)
    enl_v_mat_extru_4_tool1 = extrude(enl_v_mat_extru_4_sk1.sketch, amount=-ENL_V_MAT_EXTRU_4_REACH, mode=Mode.PRIVATE) & part.part
    # Esquisse9 → Enlèv. mat.-Extru.4 (cut, up to next)
    with BuildSketch(Plane.XZ, mode=Mode.PRIVATE) as enl_v_mat_extru_4_sk2:
        with Locations((18.175, -60.5)):
            Rectangle(ESQUISSE9_W, ESQUISSE9_H)
    enl_v_mat_extru_4_tool2 = extrude(enl_v_mat_extru_4_sk2.sketch, amount=-ENL_V_MAT_EXTRU_4_REACH, mode=Mode.PRIVATE) & part.part
    enl_v_mat_extru_4_1 = enl_v_mat_extru_4_tool1.solids().sort_by_distance((-18.175, 0, -60.5))[0]
    add(enl_v_mat_extru_4_1, mode=Mode.SUBTRACT)
    enl_v_mat_extru_4_2 = enl_v_mat_extru_4_tool2.solids().sort_by_distance((18.175, 0, -60.5))[0]
    add(enl_v_mat_extru_4_2, mode=Mode.SUBTRACT)
    enl_v_mat_extru_4 = enl_v_mat_extru_4_1 + enl_v_mat_extru_4_2  # Enlèv. mat.-Extru.4 as one shape, for the pattern or mirror that repeats it

    # Répétition circulaire2: Enlèv. mat.-Extru.4 ×6 about axis
    r_p_tition_circulaire2_axis = Axis((0, 0, 0), (0, 1, 0))
    for i in range(1, R_P_TITION_CIRCULAIRE2_COUNT):
        add(enl_v_mat_extru_4.rotate(r_p_tition_circulaire2_axis, i * 360 / R_P_TITION_CIRCULAIRE2_COUNT), mode=Mode.SUBTRACT)


solid = part.part
